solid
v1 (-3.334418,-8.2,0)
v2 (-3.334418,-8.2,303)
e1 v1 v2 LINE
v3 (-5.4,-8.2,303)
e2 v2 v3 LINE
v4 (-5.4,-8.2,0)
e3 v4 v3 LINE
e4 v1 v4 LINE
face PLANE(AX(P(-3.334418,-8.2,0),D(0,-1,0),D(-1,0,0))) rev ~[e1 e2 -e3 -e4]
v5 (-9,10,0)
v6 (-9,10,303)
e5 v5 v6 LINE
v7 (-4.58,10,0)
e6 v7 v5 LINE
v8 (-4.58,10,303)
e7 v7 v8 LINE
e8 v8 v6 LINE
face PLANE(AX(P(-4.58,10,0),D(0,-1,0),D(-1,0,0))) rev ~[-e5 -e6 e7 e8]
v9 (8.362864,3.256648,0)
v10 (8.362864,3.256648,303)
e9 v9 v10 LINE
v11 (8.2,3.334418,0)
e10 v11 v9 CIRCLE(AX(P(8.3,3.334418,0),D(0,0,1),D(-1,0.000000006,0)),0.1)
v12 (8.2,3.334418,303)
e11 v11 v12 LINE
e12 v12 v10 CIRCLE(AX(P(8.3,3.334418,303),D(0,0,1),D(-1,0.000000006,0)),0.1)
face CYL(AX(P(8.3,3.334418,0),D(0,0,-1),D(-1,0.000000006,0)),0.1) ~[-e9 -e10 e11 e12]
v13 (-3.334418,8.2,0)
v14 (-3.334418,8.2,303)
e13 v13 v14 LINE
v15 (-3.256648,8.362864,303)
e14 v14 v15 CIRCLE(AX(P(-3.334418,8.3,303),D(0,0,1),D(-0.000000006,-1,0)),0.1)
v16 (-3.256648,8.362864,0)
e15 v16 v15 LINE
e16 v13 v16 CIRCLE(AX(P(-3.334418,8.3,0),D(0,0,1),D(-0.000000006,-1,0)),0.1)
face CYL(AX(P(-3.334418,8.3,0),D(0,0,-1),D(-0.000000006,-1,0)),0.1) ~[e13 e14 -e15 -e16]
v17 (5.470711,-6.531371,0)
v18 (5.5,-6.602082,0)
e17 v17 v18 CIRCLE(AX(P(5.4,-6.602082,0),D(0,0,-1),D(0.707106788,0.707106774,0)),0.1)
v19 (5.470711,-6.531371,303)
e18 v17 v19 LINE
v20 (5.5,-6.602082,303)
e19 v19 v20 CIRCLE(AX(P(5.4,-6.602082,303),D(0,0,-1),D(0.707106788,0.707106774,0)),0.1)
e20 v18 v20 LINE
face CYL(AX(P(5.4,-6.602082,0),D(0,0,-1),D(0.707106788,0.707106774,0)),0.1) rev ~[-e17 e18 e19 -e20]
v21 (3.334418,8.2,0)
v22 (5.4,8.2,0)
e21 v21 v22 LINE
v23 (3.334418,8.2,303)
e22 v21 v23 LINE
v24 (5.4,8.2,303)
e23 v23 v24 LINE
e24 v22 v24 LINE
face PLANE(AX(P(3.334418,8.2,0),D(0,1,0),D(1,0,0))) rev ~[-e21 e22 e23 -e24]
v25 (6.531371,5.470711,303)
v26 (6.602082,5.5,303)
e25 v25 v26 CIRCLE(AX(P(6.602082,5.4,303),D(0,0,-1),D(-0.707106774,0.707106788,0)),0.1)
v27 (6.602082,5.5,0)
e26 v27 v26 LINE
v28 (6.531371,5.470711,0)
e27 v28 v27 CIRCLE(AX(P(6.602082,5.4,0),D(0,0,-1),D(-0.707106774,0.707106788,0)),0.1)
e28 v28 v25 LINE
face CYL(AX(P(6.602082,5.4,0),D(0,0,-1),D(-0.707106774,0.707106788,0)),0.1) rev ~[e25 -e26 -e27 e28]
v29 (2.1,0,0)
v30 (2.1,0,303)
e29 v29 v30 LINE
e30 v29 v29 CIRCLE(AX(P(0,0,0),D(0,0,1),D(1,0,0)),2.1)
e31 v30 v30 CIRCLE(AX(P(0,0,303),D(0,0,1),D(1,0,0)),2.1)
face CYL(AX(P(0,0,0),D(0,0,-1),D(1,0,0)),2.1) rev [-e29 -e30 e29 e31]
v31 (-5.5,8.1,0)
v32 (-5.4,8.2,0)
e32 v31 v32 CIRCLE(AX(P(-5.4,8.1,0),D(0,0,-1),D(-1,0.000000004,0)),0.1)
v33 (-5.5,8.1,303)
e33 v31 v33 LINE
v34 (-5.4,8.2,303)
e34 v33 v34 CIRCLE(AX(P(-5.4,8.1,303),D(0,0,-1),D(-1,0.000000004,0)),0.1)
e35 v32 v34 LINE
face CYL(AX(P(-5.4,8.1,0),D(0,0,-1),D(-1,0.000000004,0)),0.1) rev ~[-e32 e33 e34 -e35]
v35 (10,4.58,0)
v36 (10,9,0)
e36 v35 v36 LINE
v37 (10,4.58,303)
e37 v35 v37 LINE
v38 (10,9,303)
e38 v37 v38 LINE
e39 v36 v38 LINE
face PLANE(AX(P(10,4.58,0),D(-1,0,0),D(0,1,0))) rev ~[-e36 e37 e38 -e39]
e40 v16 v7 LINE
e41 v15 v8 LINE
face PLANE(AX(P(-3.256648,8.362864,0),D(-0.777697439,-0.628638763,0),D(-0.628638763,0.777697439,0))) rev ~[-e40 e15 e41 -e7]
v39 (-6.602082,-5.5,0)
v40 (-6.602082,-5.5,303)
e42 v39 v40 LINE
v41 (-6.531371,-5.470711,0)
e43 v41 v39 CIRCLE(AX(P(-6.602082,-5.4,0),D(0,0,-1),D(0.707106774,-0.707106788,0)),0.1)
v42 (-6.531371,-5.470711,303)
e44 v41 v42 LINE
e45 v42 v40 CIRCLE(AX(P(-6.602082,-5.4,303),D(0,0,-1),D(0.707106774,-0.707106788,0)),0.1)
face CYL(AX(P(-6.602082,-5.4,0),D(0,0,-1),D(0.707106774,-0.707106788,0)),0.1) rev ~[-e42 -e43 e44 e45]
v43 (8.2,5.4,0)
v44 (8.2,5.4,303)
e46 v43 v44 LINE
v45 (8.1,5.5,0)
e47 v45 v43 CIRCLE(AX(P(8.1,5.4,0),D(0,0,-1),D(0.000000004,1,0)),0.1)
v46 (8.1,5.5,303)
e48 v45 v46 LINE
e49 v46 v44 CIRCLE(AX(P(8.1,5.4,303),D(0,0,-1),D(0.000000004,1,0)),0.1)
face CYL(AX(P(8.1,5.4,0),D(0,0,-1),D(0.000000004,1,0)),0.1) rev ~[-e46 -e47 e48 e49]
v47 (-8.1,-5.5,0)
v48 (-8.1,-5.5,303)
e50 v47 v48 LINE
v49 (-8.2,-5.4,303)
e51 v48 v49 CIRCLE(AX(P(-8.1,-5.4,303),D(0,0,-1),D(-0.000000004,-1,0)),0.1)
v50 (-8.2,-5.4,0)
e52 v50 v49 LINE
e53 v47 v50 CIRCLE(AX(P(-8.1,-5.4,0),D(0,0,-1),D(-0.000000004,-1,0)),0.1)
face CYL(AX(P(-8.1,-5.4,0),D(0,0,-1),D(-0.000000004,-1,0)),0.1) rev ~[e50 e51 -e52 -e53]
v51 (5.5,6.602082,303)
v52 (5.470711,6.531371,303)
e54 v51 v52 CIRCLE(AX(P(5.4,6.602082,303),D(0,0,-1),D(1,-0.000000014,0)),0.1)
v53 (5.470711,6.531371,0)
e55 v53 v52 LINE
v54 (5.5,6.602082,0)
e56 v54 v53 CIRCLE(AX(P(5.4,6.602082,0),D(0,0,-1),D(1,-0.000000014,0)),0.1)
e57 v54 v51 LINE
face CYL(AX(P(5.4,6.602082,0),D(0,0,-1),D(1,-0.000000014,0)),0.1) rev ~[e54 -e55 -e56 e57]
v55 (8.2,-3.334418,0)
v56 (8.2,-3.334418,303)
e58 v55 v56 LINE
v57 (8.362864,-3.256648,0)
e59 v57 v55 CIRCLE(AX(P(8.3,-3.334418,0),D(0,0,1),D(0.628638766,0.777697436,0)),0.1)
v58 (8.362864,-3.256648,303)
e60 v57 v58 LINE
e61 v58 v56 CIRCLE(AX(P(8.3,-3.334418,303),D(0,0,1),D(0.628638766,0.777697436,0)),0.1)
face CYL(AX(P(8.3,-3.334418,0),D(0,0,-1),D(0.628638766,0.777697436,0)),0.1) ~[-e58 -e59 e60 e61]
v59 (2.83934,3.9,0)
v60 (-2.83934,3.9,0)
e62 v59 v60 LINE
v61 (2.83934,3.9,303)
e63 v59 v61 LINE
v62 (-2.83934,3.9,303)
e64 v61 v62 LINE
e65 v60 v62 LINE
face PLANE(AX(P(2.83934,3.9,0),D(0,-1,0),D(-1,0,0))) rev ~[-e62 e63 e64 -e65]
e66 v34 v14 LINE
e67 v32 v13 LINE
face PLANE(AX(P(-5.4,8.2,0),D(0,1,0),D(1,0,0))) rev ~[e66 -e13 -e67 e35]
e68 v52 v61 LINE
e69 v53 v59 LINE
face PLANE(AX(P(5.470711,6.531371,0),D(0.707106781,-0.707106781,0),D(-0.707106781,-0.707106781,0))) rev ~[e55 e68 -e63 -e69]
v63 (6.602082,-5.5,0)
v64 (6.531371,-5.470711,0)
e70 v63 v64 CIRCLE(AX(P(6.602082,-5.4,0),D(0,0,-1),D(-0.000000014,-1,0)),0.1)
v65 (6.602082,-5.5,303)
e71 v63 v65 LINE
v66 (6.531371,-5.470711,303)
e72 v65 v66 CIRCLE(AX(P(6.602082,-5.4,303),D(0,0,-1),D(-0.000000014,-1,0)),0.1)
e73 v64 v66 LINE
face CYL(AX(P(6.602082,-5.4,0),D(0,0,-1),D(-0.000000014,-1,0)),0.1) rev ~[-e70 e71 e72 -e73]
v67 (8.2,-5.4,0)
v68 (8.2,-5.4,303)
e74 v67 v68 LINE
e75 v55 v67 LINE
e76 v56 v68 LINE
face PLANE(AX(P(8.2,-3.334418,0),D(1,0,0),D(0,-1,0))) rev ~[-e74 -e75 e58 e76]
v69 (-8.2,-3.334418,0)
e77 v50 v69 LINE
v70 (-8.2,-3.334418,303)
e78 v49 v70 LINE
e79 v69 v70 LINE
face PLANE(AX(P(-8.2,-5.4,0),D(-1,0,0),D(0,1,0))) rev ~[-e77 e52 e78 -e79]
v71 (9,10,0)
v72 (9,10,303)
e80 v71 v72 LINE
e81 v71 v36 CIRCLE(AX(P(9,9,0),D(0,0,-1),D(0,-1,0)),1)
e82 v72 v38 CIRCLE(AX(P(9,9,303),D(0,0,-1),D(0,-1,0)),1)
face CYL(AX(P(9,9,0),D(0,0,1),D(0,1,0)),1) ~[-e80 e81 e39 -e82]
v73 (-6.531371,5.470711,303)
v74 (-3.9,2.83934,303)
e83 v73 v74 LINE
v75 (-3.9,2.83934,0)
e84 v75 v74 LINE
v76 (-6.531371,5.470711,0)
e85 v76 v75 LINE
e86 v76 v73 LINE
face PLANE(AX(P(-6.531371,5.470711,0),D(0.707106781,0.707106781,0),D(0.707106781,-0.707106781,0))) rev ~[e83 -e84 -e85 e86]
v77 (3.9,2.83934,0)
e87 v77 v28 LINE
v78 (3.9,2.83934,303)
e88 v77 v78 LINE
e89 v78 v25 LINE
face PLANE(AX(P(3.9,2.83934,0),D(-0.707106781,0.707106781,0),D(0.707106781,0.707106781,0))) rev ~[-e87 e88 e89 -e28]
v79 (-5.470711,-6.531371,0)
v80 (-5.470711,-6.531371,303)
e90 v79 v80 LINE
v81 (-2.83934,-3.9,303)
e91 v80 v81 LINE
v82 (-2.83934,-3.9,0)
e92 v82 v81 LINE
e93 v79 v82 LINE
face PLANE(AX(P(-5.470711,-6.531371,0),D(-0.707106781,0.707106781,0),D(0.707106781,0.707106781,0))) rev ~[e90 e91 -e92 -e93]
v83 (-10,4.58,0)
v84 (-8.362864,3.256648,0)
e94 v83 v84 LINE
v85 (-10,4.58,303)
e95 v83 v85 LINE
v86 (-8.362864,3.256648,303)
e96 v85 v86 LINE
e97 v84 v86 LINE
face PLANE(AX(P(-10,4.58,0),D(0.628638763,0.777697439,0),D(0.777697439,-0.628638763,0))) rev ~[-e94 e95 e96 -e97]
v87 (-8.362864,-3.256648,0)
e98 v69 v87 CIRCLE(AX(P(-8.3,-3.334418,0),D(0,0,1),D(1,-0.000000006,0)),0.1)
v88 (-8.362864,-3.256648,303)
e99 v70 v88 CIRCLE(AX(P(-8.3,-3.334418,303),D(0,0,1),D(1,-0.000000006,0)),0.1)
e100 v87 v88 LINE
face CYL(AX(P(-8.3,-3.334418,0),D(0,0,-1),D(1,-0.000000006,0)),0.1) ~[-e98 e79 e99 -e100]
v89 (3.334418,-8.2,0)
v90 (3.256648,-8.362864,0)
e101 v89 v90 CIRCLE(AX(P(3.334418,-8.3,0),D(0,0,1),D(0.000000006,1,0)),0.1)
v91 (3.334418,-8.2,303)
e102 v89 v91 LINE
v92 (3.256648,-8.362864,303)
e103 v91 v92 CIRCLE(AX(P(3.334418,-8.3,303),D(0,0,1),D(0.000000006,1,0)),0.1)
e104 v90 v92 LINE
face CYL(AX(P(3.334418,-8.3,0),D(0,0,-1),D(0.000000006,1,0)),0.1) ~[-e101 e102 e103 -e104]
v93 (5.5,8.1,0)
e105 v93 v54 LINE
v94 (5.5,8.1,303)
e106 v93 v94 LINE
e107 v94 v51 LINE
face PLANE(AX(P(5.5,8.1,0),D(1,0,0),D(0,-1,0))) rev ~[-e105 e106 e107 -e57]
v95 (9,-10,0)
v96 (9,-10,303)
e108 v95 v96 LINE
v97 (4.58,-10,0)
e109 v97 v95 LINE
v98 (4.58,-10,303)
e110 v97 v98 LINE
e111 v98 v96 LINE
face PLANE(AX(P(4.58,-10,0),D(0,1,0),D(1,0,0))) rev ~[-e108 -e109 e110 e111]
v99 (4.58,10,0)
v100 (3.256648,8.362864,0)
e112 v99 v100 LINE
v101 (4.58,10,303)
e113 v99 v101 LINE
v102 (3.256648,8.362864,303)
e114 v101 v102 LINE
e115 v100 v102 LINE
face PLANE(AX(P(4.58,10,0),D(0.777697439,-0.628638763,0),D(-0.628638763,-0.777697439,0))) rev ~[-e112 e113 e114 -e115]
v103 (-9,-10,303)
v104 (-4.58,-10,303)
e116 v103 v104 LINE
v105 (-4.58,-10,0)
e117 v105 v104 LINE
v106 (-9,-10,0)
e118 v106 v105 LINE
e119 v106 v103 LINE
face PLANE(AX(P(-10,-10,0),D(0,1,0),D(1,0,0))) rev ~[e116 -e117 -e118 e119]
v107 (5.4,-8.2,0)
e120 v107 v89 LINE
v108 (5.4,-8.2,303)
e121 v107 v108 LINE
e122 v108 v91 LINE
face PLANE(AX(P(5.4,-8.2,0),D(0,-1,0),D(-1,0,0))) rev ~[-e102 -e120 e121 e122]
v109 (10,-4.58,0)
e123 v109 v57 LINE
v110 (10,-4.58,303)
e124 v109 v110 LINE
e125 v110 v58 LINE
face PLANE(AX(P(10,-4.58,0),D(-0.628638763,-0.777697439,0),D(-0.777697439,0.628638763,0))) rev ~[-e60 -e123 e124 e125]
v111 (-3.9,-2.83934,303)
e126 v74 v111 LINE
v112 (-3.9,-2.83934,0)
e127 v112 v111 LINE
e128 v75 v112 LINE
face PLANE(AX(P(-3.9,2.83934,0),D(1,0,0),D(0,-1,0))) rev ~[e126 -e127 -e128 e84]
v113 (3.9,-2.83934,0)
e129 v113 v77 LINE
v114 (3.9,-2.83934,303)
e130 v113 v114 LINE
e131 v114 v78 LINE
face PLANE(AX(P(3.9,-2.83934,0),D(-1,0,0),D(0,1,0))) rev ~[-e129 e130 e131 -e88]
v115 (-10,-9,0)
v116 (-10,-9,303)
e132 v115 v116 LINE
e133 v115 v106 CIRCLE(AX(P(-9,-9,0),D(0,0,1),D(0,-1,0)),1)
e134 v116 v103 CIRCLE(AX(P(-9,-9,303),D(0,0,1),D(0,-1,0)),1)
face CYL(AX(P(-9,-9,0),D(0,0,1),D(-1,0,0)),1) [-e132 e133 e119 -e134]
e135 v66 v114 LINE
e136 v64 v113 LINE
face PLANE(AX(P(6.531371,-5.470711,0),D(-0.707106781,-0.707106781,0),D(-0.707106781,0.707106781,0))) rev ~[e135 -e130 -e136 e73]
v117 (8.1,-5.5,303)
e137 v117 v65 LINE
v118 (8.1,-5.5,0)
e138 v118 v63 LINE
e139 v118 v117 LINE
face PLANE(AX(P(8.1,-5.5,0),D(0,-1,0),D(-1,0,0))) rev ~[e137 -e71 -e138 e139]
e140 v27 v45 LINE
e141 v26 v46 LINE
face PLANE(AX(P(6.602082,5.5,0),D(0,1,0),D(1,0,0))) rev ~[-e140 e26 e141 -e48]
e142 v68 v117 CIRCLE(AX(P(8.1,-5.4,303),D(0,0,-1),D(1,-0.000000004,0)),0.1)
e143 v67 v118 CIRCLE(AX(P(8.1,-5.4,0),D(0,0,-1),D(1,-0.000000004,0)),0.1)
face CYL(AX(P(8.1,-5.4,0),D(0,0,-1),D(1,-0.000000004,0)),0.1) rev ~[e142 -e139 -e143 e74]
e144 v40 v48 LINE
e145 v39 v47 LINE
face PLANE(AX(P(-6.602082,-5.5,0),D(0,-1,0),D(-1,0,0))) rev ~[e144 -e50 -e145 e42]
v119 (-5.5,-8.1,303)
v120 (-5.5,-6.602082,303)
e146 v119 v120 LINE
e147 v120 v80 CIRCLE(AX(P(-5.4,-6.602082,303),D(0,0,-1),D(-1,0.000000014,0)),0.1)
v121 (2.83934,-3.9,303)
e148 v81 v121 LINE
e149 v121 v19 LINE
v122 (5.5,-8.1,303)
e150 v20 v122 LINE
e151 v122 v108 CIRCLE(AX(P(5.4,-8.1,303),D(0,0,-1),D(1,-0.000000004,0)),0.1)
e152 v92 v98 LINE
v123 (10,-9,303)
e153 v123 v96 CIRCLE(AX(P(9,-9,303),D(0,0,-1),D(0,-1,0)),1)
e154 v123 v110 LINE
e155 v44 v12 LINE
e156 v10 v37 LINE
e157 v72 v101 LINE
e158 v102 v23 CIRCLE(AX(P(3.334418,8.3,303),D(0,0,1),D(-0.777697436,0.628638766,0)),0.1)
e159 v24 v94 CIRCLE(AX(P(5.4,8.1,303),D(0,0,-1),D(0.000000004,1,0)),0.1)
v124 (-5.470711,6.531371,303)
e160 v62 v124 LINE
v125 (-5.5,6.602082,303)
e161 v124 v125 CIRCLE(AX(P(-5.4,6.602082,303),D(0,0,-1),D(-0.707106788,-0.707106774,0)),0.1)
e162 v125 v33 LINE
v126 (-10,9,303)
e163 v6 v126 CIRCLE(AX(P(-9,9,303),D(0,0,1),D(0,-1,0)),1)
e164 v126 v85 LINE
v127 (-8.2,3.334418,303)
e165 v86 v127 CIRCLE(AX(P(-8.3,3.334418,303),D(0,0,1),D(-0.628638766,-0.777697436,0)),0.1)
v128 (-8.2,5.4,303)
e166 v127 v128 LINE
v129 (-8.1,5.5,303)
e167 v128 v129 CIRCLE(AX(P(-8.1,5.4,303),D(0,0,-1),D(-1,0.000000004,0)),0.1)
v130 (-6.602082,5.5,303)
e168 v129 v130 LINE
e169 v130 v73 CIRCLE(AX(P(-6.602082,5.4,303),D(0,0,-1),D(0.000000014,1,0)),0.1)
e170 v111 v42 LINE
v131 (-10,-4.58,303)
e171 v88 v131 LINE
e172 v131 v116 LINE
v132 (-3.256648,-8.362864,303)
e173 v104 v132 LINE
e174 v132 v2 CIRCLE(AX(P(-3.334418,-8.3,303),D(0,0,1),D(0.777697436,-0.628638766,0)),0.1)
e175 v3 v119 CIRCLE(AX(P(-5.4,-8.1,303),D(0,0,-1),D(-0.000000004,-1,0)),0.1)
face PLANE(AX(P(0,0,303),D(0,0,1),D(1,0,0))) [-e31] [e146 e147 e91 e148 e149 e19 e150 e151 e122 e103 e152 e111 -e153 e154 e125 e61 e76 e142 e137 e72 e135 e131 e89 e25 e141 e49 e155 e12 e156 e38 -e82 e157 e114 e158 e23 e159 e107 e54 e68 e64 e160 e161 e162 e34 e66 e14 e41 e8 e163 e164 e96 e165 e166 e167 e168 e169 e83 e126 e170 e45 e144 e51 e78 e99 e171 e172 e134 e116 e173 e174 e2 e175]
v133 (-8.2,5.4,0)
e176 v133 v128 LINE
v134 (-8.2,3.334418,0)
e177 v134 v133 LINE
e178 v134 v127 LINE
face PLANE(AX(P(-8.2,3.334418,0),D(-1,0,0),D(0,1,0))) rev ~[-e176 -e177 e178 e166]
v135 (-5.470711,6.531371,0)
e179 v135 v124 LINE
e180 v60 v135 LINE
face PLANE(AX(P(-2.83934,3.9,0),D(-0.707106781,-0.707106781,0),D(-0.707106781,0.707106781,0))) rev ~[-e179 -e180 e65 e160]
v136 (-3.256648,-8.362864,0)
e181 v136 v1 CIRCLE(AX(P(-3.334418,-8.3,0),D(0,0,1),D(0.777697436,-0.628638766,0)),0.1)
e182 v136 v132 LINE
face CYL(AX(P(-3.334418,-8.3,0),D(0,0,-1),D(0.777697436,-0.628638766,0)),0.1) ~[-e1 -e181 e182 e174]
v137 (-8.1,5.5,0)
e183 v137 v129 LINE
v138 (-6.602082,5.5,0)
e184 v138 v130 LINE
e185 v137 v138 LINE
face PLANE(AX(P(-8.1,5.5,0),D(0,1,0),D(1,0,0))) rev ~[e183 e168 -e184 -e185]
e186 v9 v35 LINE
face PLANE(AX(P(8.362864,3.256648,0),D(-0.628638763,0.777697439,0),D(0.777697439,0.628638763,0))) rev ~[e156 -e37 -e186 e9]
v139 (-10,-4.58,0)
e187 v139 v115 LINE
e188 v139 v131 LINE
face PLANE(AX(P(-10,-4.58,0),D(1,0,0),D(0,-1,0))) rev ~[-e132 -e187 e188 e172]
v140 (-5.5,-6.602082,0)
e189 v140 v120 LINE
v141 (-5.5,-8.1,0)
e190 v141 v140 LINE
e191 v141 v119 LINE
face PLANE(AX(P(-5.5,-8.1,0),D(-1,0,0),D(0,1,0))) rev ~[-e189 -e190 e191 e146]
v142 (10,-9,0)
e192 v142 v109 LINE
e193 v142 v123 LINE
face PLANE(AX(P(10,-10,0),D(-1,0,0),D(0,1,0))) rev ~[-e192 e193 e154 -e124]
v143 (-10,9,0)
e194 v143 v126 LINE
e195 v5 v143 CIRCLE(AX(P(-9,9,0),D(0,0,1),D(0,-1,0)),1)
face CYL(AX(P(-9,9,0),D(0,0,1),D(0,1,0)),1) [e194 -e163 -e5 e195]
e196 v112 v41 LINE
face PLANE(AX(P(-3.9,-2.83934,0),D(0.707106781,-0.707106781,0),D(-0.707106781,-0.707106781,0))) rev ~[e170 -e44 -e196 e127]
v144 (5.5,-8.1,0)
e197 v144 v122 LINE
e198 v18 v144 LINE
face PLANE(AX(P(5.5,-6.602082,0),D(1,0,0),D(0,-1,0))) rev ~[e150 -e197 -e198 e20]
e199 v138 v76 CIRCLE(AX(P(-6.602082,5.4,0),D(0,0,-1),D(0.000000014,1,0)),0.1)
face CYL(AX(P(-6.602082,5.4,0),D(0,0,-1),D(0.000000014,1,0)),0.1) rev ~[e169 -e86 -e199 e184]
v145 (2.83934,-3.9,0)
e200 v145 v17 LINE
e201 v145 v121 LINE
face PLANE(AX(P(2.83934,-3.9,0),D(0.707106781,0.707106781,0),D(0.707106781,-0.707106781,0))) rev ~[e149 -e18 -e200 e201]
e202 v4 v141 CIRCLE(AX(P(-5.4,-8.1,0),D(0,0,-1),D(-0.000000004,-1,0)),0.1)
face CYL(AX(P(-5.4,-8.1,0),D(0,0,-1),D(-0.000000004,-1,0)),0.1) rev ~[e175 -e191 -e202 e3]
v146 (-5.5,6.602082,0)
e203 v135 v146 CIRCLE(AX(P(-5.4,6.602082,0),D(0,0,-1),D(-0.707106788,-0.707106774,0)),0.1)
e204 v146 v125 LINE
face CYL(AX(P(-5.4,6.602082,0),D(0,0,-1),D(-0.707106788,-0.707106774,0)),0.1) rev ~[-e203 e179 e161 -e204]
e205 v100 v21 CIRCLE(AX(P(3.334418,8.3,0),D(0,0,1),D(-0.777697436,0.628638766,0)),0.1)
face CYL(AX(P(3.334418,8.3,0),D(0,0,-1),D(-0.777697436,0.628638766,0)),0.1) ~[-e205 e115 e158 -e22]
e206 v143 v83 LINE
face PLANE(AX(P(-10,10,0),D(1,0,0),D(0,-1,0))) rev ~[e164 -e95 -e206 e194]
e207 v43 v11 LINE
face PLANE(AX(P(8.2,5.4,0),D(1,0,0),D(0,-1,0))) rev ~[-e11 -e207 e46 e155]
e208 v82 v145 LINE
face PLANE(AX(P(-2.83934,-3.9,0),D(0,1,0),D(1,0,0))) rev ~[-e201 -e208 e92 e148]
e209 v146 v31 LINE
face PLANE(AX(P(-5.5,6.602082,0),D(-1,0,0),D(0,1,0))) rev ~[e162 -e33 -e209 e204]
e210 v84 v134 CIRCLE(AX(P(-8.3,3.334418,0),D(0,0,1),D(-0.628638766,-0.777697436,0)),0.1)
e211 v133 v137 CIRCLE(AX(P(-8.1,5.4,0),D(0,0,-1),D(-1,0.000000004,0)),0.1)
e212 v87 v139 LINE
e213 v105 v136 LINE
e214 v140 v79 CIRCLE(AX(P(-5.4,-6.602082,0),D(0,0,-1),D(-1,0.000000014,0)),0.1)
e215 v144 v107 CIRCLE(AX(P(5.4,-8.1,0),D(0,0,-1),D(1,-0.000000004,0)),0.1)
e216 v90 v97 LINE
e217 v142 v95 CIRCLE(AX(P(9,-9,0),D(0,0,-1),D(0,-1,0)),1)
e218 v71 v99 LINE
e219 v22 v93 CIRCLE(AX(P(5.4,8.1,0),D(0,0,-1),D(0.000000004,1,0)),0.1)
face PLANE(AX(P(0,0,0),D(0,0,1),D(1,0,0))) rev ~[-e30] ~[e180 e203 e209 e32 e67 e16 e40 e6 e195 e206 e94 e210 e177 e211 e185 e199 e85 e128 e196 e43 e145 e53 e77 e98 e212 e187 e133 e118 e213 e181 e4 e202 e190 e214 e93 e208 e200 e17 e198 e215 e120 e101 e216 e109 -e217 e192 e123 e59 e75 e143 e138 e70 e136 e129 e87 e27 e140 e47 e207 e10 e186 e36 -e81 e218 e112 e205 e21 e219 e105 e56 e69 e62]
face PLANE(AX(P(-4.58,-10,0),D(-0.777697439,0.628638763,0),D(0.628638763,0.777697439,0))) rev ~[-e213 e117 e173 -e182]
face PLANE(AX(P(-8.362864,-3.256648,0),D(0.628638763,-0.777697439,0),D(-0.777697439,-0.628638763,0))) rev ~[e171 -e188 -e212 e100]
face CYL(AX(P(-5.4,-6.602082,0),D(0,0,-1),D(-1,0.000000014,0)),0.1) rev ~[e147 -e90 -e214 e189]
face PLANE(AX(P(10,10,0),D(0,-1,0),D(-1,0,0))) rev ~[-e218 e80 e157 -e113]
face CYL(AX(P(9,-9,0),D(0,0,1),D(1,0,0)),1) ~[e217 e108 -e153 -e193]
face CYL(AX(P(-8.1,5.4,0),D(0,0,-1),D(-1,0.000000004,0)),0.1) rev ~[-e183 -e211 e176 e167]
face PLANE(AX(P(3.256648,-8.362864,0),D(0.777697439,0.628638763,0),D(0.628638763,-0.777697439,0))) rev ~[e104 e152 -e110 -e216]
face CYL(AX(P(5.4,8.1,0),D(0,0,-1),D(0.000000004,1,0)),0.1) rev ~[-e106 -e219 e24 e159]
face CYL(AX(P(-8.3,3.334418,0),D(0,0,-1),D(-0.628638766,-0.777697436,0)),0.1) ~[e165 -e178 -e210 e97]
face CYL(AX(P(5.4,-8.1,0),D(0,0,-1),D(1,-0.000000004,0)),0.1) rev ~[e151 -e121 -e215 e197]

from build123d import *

# Parameters (mm, degrees)
SKETCH1_R           = 2.1
BOSS_EXTRUDE1_DEPTH = 303
FILLET1_R           = 1


with BuildPart() as part:
    # Sketch1 → Boss-Extrude1 (new body)
    with BuildSketch(Plane.XY):
        with BuildLine():
            Line((-2.839339828, 3.9), (-5.470710678, 6.53137085))
            ThreePointArc((-5.470710678, 6.53137085), (-5.492387953, 6.563813185), (-5.5, 6.602081528))
            Line((-5.5, 6.602081528), (-5.5, 8.1))
            ThreePointArc((-5.5, 8.1), (-5.470710678, 8.170710678), (-5.4, 8.2))
            Line((-5.4, 8.2), (-3.334418044, 8.2))
            ThreePointArc((-3.334418044, 8.2), (-3.244178397, 8.256909326), (-3.2566483, 8.362863876))
            Line((-3.2566483, 8.362863876), (-4.58, 10))
            Line((-4.58, 10), (-10, 10))
            Line((-10, 10), (-10, 4.58))
            Line((-10, 4.58), (-8.362863876, 3.2566483))
            ThreePointArc((-8.362863876, 3.2566483), (-8.256909326, 3.244178397), (-8.2, 3.334418044))
            Line((-8.2, 3.334418044), (-8.2, 5.4))
            ThreePointArc((-8.2, 5.4), (-8.170710678, 5.470710678), (-8.1, 5.5))
            Line((-8.1, 5.5), (-6.602081528, 5.5))
            ThreePointArc((-6.602081528, 5.5), (-6.563813185, 5.492387953), (-6.53137085, 5.470710678))
            Line((-6.53137085, 5.470710678), (-3.9, 2.839339828))
            Line((-3.9, 2.839339828), (-3.9, -2.839339828))
            Line((-3.9, -2.839339828), (-6.53137085, -5.470710678))
            ThreePointArc((-6.53137085, -5.470710678), (-6.563813185, -5.492387953), (-6.602081528, -5.5))
            Line((-6.602081528, -5.5), (-8.1, -5.5))
            ThreePointArc((-8.1, -5.5), (-8.170710678, -5.470710678), (-8.2, -5.4))
            Line((-8.2, -5.4), (-8.2, -3.334418044))
            ThreePointArc((-8.2, -3.334418044), (-8.256909326, -3.244178397), (-8.362863876, -3.2566483))
            Line((-8.362863876, -3.2566483), (-10, -4.58))
            Line((-10, -4.58), (-10, -10))
            Line((-10, -10), (-4.58, -10))
            Line((-4.58, -10), (-3.2566483, -8.362863876))
            ThreePointArc((-3.2566483, -8.362863876), (-3.244178397, -8.256909326), (-3.334418044, -8.2))
            Line((-3.334418044, -8.2), (-5.4, -8.2))
            ThreePointArc((-5.4, -8.2), (-5.470710678, -8.170710678), (-5.5, -8.1))
            Line((-5.5, -8.1), (-5.5, -6.602081528))
            ThreePointArc((-5.5, -6.602081528), (-5.492387953, -6.563813185), (-5.470710678, -6.53137085))
            Line((-5.470710678, -6.53137085), (-2.839339828, -3.9))
            Line((-2.839339828, -3.9), (2.839339828, -3.9))
            Line((2.839339828, -3.9), (5.470710678, -6.53137085))
            ThreePointArc((5.470710678, -6.53137085), (5.492387953, -6.563813185), (5.5, -6.602081528))
            Line((5.5, -6.602081528), (5.5, -8.1))
            ThreePointArc((5.5, -8.1), (5.470710678, -8.170710678), (5.4, -8.2))
            Line((5.4, -8.2), (3.334418044, -8.2))
            ThreePointArc((3.334418044, -8.2), (3.244178397, -8.256909326), (3.2566483, -8.362863876))
            Line((3.2566483, -8.362863876), (4.58, -10))
            Line((4.58, -10), (10, -10))
            Line((10, -10), (10, -4.58))
            Line((10, -4.58), (8.362863876, -3.2566483))
            ThreePointArc((8.362863876, -3.2566483), (8.256909326, -3.244178397), (8.2, -3.334418044))
            Line((8.2, -3.334418044), (8.2, -5.4))
            ThreePointArc((8.2, -5.4), (8.170710678, -5.470710678), (8.1, -5.5))
            Line((8.1, -5.5), (6.602081528, -5.5))
            ThreePointArc((6.602081528, -5.5), (6.563813185, -5.492387953), (6.53137085, -5.470710678))
            Line((6.53137085, -5.470710678), (3.9, -2.839339828))
            Line((3.9, -2.839339828), (3.9, 2.839339828))
            Line((3.9, 2.839339828), (6.53137085, 5.470710678))
            ThreePointArc((6.53137085, 5.470710678), (6.563813185, 5.492387953), (6.602081528, 5.5))
            Line((6.602081528, 5.5), (8.1, 5.5))
            ThreePointArc((8.1, 5.5), (8.170710678, 5.470710678), (8.2, 5.4))
            Line((8.2, 5.4), (8.2, 3.334418044))
            ThreePointArc((8.2, 3.334418044), (8.256909326, 3.244178397), (8.362863876, 3.2566483))
            Line((8.362863876, 3.2566483), (10, 4.58))
            Line((10, 4.58), (10, 10))
            Line((10, 10), (4.58, 10))
            Line((4.58, 10), (3.2566483, 8.362863876))
            ThreePointArc((3.2566483, 8.362863876), (3.244178397, 8.256909326), (3.334418044, 8.2))
            Line((3.334418044, 8.2), (5.4, 8.2))
            ThreePointArc((5.4, 8.2), (5.470710678, 8.170710678), (5.5, 8.1))
            Line((5.5, 8.1), (5.5, 6.602081528))
            ThreePointArc((5.5, 6.602081528), (5.492387953, 6.563813185), (5.470710678, 6.53137085))
            Line((5.470710678, 6.53137085), (2.839339828, 3.9))
            Line((2.839339828, 3.9), (-2.839339828, 3.9))
        make_face()
        Circle(SKETCH1_R, mode=Mode.SUBTRACT)
    extrude(amount=BOSS_EXTRUDE1_DEPTH)

    # Fillet1
    fillet1_edges = [part.edges().sort_by_distance(p)[0] for p in [
        (10, -10, 151.5),
        (-10, -10, 151.5),
        (-10, 10, 151.5),
        (10, 10, 151.5),
    ]]
    fillet(fillet1_edges, radius=FILLET1_R)


solid = part.part
